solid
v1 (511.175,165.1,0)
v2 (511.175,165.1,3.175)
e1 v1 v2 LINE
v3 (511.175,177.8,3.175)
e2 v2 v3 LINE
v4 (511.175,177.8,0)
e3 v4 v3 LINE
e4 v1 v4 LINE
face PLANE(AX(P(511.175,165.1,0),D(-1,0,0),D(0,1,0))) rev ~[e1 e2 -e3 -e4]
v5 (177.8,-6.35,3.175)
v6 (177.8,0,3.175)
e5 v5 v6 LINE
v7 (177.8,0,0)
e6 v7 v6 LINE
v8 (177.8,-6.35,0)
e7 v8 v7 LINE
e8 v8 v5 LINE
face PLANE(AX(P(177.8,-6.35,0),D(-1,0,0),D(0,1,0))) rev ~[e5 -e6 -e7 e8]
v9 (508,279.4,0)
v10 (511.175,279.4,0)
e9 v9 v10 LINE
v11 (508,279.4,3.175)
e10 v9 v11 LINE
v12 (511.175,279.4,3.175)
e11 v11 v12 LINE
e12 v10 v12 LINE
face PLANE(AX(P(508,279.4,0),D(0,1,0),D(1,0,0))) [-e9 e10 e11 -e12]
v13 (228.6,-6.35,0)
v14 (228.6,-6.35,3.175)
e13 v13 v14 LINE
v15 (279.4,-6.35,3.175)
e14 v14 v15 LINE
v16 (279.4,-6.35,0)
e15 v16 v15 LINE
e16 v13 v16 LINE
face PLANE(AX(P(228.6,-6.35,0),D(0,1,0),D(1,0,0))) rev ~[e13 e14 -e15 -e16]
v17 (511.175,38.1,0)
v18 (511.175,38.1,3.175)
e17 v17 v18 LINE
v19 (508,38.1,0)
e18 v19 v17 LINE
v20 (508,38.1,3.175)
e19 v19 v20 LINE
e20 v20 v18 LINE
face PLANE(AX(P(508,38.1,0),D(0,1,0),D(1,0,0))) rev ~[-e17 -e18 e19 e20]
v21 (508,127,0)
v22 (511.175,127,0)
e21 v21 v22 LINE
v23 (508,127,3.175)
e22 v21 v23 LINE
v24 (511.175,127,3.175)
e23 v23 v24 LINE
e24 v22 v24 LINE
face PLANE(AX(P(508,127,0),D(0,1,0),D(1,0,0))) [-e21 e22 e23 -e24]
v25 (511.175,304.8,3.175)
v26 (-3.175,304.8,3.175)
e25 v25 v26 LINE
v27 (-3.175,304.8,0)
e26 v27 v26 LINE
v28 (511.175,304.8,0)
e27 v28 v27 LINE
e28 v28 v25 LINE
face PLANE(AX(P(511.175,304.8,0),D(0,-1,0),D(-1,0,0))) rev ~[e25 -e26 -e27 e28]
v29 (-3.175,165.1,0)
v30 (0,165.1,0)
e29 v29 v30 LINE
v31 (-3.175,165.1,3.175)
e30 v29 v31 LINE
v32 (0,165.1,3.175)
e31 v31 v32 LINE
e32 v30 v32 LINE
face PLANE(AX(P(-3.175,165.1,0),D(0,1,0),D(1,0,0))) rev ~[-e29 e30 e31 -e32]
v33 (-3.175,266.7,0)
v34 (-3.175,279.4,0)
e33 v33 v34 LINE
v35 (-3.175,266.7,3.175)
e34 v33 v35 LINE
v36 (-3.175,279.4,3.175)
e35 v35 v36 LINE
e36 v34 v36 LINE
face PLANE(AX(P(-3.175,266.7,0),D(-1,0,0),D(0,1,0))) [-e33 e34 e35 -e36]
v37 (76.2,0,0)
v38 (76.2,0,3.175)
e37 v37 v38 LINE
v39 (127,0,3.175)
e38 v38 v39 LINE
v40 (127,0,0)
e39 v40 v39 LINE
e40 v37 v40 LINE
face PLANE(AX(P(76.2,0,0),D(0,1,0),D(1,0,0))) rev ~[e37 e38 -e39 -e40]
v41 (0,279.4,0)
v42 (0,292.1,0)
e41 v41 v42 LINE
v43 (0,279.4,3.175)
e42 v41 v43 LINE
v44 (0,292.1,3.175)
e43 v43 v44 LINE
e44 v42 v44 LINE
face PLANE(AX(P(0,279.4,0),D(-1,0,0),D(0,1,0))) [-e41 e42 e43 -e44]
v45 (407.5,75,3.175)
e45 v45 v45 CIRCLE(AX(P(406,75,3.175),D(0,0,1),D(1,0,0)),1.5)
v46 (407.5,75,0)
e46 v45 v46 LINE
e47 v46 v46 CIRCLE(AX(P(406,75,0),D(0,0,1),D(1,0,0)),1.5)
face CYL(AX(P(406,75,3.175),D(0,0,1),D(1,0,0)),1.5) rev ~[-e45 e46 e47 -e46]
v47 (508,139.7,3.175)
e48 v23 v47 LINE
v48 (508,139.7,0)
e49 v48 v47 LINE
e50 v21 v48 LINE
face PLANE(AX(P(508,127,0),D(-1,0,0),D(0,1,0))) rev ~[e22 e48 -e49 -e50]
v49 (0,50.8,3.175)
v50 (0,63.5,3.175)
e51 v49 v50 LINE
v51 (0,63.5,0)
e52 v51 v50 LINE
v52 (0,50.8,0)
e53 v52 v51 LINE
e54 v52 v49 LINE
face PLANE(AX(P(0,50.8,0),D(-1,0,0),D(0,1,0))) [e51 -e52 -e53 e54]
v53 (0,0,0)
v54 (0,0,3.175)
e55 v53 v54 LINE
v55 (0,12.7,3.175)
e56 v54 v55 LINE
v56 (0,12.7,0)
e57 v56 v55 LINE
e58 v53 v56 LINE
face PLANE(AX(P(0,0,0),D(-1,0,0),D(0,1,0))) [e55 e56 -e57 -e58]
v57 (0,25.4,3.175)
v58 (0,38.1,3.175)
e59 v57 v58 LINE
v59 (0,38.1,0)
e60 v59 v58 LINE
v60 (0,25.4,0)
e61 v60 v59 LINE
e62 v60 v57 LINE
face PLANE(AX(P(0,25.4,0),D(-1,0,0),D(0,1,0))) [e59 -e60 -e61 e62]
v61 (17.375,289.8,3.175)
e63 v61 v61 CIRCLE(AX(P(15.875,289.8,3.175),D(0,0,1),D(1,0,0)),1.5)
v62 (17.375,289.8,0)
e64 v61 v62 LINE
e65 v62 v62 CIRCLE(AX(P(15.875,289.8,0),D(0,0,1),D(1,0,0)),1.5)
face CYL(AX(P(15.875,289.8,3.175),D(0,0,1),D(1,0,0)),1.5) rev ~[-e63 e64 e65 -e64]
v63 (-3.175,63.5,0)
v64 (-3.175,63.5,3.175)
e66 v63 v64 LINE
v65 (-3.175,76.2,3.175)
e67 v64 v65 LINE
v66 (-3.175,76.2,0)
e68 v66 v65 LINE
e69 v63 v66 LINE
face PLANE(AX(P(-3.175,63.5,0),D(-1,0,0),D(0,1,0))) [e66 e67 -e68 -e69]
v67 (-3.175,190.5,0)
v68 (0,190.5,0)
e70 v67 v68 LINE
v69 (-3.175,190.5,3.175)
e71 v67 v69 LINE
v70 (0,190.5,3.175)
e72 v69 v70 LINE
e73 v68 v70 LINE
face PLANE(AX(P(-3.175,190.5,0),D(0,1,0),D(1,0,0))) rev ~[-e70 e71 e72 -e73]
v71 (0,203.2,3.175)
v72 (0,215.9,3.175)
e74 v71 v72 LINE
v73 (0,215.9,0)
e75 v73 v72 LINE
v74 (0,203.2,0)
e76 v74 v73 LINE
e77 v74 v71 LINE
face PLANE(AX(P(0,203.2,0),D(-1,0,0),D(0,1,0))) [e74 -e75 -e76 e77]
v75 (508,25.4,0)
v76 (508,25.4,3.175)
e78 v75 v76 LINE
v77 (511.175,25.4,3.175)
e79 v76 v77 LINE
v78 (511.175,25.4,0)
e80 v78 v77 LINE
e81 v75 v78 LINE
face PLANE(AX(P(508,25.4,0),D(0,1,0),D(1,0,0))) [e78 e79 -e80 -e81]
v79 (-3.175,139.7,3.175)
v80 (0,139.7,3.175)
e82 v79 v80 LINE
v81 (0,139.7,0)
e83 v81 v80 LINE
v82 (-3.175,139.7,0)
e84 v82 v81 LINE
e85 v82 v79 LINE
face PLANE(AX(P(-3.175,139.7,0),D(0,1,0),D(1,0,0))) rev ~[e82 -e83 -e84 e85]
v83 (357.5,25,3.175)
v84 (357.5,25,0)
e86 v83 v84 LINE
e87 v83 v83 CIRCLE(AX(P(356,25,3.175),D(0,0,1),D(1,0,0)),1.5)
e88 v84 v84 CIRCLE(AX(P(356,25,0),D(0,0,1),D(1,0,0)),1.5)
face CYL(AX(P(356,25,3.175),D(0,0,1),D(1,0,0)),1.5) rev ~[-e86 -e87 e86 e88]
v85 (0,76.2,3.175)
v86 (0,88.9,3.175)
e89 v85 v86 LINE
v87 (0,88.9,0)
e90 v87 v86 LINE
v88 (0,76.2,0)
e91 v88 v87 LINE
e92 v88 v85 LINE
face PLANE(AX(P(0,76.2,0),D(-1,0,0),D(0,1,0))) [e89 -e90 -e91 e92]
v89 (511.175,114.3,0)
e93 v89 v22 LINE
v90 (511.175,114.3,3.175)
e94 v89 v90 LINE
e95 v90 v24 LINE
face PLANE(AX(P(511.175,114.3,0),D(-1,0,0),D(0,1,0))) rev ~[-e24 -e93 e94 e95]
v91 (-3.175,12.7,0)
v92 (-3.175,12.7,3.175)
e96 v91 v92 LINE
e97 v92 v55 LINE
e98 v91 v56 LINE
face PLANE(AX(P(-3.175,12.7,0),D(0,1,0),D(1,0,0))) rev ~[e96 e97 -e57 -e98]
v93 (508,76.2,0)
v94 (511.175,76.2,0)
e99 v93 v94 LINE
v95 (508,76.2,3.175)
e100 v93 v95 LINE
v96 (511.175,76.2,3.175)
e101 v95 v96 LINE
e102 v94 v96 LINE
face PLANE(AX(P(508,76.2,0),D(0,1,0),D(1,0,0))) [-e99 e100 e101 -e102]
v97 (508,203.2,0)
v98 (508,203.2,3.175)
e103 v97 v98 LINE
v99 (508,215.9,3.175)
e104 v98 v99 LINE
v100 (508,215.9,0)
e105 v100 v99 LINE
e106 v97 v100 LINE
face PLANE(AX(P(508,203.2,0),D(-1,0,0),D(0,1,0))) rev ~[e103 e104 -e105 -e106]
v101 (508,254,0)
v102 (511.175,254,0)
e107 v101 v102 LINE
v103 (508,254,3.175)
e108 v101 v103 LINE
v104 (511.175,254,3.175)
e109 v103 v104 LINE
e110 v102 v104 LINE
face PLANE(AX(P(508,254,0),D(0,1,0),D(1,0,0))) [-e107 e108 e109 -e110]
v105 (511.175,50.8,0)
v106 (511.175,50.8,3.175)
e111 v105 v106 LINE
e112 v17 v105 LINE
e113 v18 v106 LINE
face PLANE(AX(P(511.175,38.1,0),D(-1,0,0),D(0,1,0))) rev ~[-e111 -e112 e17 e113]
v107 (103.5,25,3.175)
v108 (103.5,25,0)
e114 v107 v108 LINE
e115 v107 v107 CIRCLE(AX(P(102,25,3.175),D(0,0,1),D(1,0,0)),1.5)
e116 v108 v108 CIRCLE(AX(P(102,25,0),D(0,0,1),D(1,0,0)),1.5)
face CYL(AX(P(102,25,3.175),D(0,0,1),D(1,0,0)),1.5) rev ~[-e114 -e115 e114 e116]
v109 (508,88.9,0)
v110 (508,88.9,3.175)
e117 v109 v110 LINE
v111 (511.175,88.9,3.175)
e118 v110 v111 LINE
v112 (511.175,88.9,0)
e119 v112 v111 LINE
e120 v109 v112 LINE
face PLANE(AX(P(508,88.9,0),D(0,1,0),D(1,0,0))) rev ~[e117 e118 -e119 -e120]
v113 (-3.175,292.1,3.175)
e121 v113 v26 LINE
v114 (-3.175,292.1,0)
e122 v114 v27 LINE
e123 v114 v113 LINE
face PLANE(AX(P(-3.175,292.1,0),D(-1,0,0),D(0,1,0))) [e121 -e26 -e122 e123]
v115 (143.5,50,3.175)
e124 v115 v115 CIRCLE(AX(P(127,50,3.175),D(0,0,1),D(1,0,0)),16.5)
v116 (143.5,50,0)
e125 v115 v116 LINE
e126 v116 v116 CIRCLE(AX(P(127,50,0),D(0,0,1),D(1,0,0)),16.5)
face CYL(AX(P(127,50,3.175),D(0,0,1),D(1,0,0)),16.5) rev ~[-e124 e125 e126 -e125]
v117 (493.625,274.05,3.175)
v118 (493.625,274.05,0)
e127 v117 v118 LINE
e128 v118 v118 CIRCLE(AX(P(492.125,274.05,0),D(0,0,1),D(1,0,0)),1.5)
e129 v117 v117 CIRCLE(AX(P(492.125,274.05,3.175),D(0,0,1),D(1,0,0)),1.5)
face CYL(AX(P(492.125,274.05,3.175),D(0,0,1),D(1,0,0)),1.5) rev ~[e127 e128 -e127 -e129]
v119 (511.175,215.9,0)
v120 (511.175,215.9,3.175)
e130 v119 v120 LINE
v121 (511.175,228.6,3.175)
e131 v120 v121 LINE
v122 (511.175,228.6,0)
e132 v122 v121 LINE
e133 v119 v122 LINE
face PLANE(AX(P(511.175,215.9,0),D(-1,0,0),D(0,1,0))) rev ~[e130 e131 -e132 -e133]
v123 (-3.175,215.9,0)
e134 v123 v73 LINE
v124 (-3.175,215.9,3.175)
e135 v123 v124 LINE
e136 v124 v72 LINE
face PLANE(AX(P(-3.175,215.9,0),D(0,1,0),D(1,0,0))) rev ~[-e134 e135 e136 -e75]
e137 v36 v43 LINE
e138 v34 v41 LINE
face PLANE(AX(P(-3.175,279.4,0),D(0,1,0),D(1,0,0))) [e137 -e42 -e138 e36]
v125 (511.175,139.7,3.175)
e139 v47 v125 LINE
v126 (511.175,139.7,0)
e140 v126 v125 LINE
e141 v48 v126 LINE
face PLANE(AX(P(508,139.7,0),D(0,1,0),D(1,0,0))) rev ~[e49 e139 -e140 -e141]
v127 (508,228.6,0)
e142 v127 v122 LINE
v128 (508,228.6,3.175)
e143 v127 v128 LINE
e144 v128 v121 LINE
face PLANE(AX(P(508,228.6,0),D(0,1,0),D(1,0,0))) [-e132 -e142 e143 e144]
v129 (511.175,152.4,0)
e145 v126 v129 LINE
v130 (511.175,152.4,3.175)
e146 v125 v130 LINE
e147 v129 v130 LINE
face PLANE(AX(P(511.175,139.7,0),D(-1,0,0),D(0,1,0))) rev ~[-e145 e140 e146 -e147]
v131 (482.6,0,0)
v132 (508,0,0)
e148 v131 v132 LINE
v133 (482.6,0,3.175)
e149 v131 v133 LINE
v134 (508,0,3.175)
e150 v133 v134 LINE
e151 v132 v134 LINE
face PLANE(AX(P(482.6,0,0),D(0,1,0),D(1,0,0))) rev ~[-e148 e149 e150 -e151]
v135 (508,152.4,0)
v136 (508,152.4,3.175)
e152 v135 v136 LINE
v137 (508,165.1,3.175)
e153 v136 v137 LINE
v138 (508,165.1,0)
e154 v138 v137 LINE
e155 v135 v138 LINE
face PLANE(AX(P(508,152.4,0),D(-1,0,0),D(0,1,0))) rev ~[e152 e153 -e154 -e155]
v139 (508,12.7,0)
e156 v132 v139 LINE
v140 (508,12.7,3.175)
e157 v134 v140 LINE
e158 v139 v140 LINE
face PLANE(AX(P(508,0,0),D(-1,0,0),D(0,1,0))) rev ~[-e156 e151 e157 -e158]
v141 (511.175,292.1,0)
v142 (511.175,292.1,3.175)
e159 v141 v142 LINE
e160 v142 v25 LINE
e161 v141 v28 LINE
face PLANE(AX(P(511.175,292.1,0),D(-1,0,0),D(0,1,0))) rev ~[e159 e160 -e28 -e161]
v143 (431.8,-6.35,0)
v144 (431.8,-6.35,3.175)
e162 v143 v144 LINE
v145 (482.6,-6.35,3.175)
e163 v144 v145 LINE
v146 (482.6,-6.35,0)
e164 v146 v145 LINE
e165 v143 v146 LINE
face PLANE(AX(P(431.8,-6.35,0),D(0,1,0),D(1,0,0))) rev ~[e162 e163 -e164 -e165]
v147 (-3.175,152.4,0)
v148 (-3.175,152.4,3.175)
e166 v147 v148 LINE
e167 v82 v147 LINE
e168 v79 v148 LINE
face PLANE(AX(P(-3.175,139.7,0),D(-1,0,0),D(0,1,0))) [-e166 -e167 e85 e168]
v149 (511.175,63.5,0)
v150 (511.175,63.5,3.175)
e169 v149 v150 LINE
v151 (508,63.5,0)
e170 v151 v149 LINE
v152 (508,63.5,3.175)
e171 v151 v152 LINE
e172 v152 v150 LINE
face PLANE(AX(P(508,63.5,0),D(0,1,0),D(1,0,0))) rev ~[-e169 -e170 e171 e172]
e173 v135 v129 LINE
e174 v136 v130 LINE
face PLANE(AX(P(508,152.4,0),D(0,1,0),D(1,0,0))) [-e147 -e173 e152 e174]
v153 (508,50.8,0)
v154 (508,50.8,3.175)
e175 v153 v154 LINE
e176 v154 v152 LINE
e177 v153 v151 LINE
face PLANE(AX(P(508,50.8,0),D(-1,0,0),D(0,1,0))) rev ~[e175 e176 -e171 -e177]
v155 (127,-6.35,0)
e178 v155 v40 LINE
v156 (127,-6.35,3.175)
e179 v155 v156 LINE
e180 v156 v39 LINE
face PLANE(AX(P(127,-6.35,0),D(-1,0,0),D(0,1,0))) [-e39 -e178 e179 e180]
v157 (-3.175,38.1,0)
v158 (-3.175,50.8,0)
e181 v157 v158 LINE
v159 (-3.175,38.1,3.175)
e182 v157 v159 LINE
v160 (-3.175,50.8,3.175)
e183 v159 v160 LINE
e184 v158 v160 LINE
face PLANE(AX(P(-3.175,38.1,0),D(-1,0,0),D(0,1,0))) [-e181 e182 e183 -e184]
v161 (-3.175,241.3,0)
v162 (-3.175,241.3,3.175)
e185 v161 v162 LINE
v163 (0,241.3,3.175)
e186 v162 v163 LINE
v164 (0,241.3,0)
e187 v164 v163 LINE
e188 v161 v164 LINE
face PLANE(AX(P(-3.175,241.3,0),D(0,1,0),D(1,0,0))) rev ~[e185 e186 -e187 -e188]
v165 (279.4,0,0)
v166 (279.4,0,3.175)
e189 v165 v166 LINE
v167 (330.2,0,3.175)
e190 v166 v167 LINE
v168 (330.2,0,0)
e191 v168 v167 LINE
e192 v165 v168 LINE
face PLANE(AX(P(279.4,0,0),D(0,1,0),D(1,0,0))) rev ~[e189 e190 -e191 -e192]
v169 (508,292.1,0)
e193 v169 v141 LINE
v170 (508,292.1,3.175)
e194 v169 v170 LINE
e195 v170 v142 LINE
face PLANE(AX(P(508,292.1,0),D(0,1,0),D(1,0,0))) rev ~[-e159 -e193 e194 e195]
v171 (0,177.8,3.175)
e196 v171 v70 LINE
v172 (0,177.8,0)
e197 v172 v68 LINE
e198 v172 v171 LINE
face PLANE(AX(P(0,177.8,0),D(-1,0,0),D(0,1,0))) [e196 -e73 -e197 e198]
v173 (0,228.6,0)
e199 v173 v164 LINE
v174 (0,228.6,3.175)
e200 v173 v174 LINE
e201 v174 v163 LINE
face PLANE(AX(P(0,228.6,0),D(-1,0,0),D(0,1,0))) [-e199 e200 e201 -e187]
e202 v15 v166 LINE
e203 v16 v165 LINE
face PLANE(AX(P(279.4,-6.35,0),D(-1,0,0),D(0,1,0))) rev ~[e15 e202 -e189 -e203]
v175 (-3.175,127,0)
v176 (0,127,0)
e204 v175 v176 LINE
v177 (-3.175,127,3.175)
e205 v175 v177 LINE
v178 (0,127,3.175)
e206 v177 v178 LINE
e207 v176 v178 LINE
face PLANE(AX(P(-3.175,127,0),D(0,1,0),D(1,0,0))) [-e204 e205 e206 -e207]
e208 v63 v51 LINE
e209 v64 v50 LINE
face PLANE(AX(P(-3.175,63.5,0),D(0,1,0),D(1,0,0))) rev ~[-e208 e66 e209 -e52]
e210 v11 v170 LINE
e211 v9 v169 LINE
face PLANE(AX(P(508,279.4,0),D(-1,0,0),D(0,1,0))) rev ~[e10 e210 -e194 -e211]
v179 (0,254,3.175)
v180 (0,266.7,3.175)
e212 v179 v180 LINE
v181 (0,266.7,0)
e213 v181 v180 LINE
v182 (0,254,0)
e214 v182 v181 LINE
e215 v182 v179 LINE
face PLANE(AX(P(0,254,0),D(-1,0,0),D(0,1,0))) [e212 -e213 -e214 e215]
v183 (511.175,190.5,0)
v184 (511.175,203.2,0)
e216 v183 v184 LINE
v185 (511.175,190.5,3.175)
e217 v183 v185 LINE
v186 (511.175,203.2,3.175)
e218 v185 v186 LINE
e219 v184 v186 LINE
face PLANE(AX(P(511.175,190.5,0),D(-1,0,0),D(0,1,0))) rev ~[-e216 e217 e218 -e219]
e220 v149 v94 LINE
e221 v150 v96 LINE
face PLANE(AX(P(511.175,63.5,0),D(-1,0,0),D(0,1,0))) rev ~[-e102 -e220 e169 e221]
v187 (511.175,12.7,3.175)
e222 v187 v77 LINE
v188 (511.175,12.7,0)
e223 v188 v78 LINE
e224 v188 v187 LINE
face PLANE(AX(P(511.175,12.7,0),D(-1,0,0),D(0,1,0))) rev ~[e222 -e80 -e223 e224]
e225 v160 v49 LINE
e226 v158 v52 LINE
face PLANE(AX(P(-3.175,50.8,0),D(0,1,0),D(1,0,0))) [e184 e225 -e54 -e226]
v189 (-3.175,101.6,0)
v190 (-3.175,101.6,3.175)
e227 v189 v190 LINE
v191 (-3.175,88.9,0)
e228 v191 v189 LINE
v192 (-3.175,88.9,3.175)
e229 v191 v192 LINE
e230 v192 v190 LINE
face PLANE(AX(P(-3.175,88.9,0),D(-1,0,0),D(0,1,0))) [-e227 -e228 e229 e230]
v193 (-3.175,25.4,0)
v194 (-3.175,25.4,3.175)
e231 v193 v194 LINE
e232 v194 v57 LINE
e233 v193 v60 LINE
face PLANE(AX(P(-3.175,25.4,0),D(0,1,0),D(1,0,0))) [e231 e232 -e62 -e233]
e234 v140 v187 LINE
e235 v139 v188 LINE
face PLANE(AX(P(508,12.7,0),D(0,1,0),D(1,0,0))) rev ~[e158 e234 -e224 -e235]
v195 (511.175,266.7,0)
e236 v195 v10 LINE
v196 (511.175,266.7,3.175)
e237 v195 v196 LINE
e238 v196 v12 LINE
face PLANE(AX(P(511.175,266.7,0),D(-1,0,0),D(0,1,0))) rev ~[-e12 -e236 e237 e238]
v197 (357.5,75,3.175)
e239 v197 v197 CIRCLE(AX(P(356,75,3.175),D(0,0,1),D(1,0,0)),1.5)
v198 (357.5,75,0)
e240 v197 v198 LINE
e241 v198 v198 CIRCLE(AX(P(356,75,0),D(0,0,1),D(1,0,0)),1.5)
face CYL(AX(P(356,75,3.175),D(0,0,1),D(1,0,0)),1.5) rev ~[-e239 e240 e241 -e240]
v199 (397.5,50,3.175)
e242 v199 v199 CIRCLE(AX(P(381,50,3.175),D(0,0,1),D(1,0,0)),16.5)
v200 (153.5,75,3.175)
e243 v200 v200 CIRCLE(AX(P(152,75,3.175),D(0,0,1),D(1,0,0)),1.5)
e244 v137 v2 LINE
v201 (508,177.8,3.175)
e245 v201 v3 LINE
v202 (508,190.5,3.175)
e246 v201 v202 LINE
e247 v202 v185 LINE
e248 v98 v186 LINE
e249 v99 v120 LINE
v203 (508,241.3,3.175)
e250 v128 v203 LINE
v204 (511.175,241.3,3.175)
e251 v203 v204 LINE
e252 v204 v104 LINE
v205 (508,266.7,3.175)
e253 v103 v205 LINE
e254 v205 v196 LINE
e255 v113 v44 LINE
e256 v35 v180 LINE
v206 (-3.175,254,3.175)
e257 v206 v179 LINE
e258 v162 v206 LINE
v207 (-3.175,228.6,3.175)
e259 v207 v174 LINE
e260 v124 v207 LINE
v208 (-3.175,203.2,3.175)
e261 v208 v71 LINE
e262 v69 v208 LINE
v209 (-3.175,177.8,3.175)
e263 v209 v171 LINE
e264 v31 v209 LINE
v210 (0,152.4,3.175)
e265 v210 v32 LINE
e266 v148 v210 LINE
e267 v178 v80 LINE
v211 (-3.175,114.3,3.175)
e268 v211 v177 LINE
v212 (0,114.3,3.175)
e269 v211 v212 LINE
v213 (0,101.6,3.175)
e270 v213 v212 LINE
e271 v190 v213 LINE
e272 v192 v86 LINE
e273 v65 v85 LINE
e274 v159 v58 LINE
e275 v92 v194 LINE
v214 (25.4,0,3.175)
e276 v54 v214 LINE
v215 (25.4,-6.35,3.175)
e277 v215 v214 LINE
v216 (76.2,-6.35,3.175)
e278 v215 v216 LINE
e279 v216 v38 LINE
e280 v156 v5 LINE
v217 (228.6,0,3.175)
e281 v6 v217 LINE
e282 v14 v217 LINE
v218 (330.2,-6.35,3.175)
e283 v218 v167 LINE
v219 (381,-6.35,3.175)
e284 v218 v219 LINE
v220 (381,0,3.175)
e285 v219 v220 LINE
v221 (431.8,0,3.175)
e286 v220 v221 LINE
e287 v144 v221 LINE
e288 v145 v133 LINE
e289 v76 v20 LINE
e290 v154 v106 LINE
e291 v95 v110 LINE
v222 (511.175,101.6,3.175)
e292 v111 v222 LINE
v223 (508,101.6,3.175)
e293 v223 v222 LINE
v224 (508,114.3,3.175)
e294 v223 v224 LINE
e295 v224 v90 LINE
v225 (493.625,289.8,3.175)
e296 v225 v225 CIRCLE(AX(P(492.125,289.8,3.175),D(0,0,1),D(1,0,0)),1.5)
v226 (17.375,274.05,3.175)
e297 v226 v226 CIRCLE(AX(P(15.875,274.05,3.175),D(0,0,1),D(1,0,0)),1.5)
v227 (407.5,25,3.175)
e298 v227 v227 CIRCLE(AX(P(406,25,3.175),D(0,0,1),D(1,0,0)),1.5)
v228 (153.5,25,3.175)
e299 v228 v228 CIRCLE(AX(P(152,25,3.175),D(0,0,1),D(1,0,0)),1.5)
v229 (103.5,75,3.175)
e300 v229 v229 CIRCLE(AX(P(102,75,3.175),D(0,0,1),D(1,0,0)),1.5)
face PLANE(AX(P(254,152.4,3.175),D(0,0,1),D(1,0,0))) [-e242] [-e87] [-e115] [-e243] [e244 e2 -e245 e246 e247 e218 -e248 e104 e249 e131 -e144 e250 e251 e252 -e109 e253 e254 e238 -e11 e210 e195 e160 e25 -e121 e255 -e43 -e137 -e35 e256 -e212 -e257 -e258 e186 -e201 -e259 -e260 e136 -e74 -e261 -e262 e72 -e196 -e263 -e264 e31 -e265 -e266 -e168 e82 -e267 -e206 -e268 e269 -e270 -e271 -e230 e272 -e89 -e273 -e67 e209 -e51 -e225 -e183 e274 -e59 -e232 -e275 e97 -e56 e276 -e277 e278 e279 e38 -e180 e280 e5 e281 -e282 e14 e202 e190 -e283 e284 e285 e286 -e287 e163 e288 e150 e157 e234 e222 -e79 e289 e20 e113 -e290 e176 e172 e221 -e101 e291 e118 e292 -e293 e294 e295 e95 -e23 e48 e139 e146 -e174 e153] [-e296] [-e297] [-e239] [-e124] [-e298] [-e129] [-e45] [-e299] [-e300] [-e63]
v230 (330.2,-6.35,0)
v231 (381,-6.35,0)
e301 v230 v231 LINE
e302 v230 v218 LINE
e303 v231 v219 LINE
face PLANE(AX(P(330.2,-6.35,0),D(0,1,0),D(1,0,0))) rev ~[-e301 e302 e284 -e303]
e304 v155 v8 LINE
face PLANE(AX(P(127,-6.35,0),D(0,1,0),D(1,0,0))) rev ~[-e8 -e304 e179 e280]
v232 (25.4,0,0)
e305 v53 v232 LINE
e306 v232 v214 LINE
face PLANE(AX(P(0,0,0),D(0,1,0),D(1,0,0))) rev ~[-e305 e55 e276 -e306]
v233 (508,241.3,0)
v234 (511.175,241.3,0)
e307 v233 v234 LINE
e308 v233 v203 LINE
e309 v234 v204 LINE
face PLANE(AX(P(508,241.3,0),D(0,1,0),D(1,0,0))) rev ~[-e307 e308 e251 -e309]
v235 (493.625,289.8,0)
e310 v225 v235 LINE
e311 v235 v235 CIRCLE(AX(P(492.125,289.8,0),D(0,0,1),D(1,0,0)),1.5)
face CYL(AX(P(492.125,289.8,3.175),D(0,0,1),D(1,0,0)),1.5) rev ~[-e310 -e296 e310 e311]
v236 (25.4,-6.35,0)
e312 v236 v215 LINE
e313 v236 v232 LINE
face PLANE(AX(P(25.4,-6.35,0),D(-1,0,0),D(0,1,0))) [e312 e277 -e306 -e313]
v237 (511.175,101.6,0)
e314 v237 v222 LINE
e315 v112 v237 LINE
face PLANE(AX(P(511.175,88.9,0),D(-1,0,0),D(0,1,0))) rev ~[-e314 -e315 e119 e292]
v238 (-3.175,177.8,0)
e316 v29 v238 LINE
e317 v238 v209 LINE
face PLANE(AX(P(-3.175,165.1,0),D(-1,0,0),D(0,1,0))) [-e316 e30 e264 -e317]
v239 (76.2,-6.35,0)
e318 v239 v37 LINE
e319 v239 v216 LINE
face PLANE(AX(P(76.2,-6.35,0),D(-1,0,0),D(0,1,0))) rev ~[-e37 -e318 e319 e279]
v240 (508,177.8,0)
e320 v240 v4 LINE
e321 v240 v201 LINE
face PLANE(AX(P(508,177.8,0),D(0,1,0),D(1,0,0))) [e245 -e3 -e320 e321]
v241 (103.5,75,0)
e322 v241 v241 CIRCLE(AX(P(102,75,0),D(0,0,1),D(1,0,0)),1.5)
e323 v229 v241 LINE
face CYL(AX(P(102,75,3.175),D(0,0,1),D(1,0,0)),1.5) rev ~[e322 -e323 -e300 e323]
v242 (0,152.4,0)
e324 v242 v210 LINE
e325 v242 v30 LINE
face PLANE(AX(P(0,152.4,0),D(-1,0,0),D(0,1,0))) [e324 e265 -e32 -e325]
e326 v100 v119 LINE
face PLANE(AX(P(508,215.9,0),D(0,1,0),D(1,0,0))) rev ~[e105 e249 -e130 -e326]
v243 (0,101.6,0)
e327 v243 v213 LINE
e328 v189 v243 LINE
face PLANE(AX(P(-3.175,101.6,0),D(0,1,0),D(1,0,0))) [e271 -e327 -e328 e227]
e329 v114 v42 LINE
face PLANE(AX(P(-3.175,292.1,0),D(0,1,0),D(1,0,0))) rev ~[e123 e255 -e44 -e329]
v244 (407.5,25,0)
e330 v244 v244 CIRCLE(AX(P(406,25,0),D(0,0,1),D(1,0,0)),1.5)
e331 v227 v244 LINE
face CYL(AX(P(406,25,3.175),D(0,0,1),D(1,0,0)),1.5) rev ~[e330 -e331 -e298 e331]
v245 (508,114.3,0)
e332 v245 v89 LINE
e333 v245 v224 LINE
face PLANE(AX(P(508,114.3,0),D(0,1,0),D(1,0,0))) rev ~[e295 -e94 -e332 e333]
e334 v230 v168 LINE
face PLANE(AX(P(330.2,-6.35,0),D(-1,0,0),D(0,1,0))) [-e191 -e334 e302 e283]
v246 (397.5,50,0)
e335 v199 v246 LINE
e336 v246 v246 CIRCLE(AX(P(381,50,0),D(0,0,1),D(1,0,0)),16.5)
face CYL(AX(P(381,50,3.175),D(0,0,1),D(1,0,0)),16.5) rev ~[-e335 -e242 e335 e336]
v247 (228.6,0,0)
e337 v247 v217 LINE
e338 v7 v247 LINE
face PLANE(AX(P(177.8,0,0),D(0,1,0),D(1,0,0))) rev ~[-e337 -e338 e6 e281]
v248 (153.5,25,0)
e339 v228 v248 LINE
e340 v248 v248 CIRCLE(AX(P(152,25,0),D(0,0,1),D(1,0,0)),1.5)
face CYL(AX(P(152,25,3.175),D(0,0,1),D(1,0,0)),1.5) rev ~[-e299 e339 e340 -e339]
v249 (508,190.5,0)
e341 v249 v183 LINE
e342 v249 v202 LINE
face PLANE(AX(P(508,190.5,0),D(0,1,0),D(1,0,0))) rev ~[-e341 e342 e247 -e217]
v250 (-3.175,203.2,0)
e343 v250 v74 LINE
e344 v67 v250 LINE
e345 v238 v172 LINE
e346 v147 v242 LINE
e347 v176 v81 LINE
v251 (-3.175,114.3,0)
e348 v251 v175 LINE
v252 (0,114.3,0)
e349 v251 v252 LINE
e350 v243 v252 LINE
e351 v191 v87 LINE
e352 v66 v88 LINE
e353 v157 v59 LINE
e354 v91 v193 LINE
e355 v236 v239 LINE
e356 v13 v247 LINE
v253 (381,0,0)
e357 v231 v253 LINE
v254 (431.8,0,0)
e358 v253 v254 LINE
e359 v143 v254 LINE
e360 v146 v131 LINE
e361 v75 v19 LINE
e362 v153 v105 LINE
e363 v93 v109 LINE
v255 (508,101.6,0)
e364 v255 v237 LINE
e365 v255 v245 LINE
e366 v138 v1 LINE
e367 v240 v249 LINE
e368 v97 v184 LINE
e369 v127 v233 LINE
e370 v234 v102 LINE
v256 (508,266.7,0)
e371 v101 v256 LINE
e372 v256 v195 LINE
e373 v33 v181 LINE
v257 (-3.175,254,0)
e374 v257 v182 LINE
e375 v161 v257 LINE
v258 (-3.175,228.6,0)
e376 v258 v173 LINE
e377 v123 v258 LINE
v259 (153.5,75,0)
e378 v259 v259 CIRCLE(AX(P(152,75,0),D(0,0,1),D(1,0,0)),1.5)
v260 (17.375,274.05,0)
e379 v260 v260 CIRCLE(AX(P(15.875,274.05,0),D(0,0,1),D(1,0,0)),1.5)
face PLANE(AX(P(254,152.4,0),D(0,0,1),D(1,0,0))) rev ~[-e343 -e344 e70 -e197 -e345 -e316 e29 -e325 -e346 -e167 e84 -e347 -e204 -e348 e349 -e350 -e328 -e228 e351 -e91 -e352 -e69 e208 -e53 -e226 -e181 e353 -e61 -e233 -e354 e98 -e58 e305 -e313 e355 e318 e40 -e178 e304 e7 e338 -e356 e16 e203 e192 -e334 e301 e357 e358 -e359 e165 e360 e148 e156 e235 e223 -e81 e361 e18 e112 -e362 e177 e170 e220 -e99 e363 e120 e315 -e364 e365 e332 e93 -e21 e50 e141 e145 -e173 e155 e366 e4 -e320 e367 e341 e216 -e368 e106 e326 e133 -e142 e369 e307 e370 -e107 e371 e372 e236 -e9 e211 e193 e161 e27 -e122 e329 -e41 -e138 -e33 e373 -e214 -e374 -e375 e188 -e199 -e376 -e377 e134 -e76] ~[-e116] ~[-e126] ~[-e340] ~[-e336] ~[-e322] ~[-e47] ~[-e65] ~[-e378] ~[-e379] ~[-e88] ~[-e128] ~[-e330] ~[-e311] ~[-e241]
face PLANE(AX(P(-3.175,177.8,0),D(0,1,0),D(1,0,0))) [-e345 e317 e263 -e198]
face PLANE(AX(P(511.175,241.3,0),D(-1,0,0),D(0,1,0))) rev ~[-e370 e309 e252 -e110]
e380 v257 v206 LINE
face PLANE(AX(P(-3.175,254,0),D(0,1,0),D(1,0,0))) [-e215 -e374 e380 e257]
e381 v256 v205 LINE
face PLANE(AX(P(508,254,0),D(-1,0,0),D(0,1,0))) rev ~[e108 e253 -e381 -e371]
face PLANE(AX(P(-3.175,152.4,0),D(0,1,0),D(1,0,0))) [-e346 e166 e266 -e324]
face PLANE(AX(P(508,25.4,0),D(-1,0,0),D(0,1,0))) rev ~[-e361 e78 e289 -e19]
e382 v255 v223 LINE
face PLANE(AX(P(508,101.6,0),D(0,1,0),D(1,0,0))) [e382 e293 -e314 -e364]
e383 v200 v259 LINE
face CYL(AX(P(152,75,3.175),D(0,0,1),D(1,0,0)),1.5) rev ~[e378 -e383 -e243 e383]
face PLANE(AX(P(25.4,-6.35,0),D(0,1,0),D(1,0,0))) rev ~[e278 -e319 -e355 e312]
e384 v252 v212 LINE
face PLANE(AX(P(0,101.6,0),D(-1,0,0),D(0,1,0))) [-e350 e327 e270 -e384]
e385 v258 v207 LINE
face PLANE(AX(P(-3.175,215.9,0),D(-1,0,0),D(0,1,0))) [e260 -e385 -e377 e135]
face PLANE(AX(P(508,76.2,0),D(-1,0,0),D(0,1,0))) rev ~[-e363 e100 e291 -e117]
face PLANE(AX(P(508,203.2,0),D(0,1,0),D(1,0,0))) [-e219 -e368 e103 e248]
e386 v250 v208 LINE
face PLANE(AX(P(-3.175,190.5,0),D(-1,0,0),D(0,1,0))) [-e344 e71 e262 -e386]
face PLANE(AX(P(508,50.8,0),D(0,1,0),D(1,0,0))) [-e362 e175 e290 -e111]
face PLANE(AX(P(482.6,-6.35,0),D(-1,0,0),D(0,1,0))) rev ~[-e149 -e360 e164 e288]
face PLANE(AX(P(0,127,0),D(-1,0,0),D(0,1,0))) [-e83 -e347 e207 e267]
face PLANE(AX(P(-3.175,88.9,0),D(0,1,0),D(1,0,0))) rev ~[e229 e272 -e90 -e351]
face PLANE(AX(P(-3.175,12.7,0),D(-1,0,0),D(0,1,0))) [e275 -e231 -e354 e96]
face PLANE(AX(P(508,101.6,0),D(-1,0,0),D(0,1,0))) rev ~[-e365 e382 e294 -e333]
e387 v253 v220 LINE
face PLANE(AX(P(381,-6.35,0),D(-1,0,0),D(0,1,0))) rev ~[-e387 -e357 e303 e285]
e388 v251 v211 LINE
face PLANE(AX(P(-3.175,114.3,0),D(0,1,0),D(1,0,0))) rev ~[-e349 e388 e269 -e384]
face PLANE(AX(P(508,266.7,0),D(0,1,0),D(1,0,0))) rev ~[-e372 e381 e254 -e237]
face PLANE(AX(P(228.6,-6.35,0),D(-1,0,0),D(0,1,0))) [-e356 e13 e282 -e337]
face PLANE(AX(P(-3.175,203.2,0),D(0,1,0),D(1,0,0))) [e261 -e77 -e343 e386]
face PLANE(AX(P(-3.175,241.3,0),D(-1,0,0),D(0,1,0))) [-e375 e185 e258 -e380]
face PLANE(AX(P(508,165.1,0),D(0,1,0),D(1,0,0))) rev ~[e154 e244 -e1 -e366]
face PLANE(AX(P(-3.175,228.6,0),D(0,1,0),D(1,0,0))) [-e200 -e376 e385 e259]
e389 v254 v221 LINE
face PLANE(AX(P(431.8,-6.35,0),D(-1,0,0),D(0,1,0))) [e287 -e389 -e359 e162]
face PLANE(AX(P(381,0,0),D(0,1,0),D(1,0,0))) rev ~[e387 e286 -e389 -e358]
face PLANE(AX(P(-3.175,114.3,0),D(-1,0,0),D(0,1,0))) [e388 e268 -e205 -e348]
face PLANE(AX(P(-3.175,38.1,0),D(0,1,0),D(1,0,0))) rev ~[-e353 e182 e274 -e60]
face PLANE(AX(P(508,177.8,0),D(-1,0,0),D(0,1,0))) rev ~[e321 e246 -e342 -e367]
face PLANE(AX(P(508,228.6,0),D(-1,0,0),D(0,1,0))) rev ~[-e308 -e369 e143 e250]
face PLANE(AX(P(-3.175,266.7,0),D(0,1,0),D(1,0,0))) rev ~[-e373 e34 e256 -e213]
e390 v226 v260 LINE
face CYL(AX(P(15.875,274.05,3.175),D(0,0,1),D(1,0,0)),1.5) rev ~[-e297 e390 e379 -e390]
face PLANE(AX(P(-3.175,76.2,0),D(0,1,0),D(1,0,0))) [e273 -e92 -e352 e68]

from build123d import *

# Parameters (mm, degrees)
SKETCH1_W           = 508
SKETCH1_H           = 304.8
SKETCH1_W_2         = 50.8
SKETCH1_H_2         = 6.35
SKETCH1_W_3         = 3.175
SKETCH1_H_3         = 12.7
BOSS_EXTRUDE1_DEPTH = 3.175
SKETCH2_R           = 16.5
SKETCH2_R_2         = 1.5
CUT_EXTRUDE1_DEPTH  = 3.175
SKETCH3_R           = 1.5
CUT_EXTRUDE2_DEPTH  = 3.175


with BuildPart() as part:
    # Sketch1 → Boss-Extrude1 (new body)
    with BuildSketch(Plane.XY):
        with Locations((254, 152.4)):
            Rectangle(SKETCH1_W, SKETCH1_H)
        with Locations((50.8, -3.175)):
            Rectangle(SKETCH1_W_2, SKETCH1_H_2)
        with Locations((152.4, -3.175)):
            Rectangle(SKETCH1_W_2, SKETCH1_H_2)
        with Locations((254, -3.175)):
            Rectangle(SKETCH1_W_2, SKETCH1_H_2)
        with Locations((355.6, -3.175)):
            Rectangle(SKETCH1_W_2, SKETCH1_H_2)
        with Locations((457.2, -3.175)):
            Rectangle(SKETCH1_W_2, SKETCH1_H_2)
        with Locations((-1.5875, 19.05)):
            Rectangle(SKETCH1_W_3, SKETCH1_H_3)
        with Locations((-1.5875, 44.45)):
            Rectangle(SKETCH1_W_3, SKETCH1_H_3)
        with Locations((-1.5875, 69.85)):
            Rectangle(SKETCH1_W_3, SKETCH1_H_3)
        with Locations((-1.5875, 95.25)):
            Rectangle(SKETCH1_W_3, SKETCH1_H_3)
        with Locations((-1.5875, 120.65)):
            Rectangle(SKETCH1_W_3, SKETCH1_H_3)
        with Locations((-1.5875, 146.05)):
            Rectangle(SKETCH1_W_3, SKETCH1_H_3)
        with Locations((-1.5875, 171.45)):
            Rectangle(SKETCH1_W_3, SKETCH1_H_3)
        with Locations((-1.5875, 196.85)):
            Rectangle(SKETCH1_W_3, SKETCH1_H_3)
        with Locations((-1.5875, 222.25)):
            Rectangle(SKETCH1_W_3, SKETCH1_H_3)
        with Locations((-1.5875, 247.65)):
            Rectangle(SKETCH1_W_3, SKETCH1_H_3)
        with Locations((-1.5875, 273.05)):
            Rectangle(SKETCH1_W_3, SKETCH1_H_3)
        with Locations((-1.5875, 298.45)):
            Rectangle(SKETCH1_W_3, SKETCH1_H_3)
        with Locations((509.5875, 19.05)):
            Rectangle(SKETCH1_W_3, SKETCH1_H_3)
        with Locations((509.5875, 44.45)):
            Rectangle(SKETCH1_W_3, SKETCH1_H_3)
        with Locations((509.5875, 69.85)):
            Rectangle(SKETCH1_W_3, SKETCH1_H_3)
        with Locations((509.5875, 95.25)):
            Rectangle(SKETCH1_W_3, SKETCH1_H_3)
        with Locations((509.5875, 146.05)):
            Rectangle(SKETCH1_W_3, SKETCH1_H_3)
        with Locations((509.5875, 120.65)):
            Rectangle(SKETCH1_W_3, SKETCH1_H_3)
        with Locations((509.5875, 171.45)):
            Rectangle(SKETCH1_W_3, SKETCH1_H_3)
        with Locations((509.5875, 196.85)):
            Rectangle(SKETCH1_W_3, SKETCH1_H_3)
        with Locations((509.5875, 222.25)):
            Rectangle(SKETCH1_W_3, SKETCH1_H_3)
        with Locations((509.5875, 247.65)):
            Rectangle(SKETCH1_W_3, SKETCH1_H_3)
        with Locations((509.5875, 273.05)):
            Rectangle(SKETCH1_W_3, SKETCH1_H_3)
        with Locations((509.5875, 298.45)):
            Rectangle(SKETCH1_W_3, SKETCH1_H_3)
    extrude(amount=BOSS_EXTRUDE1_DEPTH)

    # Sketch2 → Cut-Extrude1 (cut)
    with BuildSketch(Plane.XY.offset(3.175)):
        with Locations((127, 50)):
            Circle(SKETCH2_R)
        with Locations((102, 75)):
            Circle(SKETCH2_R_2)
        with Locations((152, 75)):
            Circle(SKETCH2_R_2)
        with Locations((152, 25)):
            Circle(SKETCH2_R_2)
        with Locations((102, 25)):
            Circle(SKETCH2_R_2)
        with Locations((381, 50)):
            Circle(SKETCH2_R)
        with Locations((356, 75)):
            Circle(SKETCH2_R_2)
        with Locations((356, 25)):
            Circle(SKETCH2_R_2)
        with Locations((406, 25)):
            Circle(SKETCH2_R_2)
        with Locations((406, 75)):
            Circle(SKETCH2_R_2)
    extrude(amount=-CUT_EXTRUDE1_DEPTH, mode=Mode.SUBTRACT)

    # Sketch3 → Cut-Extrude2 (cut)
    with BuildSketch(Plane.XY.offset(3.175)):
        with Locations((15.875, 289.8)):
            Circle(SKETCH3_R)
        with Locations((15.875, 274.05)):
            Circle(SKETCH3_R)
        with Locations((492.125, 289.8)):
            Circle(SKETCH3_R)
        with Locations((492.125, 274.05)):
            Circle(SKETCH3_R)
    extrude(amount=-CUT_EXTRUDE2_DEPTH, mode=Mode.SUBTRACT)


solid = part.part
